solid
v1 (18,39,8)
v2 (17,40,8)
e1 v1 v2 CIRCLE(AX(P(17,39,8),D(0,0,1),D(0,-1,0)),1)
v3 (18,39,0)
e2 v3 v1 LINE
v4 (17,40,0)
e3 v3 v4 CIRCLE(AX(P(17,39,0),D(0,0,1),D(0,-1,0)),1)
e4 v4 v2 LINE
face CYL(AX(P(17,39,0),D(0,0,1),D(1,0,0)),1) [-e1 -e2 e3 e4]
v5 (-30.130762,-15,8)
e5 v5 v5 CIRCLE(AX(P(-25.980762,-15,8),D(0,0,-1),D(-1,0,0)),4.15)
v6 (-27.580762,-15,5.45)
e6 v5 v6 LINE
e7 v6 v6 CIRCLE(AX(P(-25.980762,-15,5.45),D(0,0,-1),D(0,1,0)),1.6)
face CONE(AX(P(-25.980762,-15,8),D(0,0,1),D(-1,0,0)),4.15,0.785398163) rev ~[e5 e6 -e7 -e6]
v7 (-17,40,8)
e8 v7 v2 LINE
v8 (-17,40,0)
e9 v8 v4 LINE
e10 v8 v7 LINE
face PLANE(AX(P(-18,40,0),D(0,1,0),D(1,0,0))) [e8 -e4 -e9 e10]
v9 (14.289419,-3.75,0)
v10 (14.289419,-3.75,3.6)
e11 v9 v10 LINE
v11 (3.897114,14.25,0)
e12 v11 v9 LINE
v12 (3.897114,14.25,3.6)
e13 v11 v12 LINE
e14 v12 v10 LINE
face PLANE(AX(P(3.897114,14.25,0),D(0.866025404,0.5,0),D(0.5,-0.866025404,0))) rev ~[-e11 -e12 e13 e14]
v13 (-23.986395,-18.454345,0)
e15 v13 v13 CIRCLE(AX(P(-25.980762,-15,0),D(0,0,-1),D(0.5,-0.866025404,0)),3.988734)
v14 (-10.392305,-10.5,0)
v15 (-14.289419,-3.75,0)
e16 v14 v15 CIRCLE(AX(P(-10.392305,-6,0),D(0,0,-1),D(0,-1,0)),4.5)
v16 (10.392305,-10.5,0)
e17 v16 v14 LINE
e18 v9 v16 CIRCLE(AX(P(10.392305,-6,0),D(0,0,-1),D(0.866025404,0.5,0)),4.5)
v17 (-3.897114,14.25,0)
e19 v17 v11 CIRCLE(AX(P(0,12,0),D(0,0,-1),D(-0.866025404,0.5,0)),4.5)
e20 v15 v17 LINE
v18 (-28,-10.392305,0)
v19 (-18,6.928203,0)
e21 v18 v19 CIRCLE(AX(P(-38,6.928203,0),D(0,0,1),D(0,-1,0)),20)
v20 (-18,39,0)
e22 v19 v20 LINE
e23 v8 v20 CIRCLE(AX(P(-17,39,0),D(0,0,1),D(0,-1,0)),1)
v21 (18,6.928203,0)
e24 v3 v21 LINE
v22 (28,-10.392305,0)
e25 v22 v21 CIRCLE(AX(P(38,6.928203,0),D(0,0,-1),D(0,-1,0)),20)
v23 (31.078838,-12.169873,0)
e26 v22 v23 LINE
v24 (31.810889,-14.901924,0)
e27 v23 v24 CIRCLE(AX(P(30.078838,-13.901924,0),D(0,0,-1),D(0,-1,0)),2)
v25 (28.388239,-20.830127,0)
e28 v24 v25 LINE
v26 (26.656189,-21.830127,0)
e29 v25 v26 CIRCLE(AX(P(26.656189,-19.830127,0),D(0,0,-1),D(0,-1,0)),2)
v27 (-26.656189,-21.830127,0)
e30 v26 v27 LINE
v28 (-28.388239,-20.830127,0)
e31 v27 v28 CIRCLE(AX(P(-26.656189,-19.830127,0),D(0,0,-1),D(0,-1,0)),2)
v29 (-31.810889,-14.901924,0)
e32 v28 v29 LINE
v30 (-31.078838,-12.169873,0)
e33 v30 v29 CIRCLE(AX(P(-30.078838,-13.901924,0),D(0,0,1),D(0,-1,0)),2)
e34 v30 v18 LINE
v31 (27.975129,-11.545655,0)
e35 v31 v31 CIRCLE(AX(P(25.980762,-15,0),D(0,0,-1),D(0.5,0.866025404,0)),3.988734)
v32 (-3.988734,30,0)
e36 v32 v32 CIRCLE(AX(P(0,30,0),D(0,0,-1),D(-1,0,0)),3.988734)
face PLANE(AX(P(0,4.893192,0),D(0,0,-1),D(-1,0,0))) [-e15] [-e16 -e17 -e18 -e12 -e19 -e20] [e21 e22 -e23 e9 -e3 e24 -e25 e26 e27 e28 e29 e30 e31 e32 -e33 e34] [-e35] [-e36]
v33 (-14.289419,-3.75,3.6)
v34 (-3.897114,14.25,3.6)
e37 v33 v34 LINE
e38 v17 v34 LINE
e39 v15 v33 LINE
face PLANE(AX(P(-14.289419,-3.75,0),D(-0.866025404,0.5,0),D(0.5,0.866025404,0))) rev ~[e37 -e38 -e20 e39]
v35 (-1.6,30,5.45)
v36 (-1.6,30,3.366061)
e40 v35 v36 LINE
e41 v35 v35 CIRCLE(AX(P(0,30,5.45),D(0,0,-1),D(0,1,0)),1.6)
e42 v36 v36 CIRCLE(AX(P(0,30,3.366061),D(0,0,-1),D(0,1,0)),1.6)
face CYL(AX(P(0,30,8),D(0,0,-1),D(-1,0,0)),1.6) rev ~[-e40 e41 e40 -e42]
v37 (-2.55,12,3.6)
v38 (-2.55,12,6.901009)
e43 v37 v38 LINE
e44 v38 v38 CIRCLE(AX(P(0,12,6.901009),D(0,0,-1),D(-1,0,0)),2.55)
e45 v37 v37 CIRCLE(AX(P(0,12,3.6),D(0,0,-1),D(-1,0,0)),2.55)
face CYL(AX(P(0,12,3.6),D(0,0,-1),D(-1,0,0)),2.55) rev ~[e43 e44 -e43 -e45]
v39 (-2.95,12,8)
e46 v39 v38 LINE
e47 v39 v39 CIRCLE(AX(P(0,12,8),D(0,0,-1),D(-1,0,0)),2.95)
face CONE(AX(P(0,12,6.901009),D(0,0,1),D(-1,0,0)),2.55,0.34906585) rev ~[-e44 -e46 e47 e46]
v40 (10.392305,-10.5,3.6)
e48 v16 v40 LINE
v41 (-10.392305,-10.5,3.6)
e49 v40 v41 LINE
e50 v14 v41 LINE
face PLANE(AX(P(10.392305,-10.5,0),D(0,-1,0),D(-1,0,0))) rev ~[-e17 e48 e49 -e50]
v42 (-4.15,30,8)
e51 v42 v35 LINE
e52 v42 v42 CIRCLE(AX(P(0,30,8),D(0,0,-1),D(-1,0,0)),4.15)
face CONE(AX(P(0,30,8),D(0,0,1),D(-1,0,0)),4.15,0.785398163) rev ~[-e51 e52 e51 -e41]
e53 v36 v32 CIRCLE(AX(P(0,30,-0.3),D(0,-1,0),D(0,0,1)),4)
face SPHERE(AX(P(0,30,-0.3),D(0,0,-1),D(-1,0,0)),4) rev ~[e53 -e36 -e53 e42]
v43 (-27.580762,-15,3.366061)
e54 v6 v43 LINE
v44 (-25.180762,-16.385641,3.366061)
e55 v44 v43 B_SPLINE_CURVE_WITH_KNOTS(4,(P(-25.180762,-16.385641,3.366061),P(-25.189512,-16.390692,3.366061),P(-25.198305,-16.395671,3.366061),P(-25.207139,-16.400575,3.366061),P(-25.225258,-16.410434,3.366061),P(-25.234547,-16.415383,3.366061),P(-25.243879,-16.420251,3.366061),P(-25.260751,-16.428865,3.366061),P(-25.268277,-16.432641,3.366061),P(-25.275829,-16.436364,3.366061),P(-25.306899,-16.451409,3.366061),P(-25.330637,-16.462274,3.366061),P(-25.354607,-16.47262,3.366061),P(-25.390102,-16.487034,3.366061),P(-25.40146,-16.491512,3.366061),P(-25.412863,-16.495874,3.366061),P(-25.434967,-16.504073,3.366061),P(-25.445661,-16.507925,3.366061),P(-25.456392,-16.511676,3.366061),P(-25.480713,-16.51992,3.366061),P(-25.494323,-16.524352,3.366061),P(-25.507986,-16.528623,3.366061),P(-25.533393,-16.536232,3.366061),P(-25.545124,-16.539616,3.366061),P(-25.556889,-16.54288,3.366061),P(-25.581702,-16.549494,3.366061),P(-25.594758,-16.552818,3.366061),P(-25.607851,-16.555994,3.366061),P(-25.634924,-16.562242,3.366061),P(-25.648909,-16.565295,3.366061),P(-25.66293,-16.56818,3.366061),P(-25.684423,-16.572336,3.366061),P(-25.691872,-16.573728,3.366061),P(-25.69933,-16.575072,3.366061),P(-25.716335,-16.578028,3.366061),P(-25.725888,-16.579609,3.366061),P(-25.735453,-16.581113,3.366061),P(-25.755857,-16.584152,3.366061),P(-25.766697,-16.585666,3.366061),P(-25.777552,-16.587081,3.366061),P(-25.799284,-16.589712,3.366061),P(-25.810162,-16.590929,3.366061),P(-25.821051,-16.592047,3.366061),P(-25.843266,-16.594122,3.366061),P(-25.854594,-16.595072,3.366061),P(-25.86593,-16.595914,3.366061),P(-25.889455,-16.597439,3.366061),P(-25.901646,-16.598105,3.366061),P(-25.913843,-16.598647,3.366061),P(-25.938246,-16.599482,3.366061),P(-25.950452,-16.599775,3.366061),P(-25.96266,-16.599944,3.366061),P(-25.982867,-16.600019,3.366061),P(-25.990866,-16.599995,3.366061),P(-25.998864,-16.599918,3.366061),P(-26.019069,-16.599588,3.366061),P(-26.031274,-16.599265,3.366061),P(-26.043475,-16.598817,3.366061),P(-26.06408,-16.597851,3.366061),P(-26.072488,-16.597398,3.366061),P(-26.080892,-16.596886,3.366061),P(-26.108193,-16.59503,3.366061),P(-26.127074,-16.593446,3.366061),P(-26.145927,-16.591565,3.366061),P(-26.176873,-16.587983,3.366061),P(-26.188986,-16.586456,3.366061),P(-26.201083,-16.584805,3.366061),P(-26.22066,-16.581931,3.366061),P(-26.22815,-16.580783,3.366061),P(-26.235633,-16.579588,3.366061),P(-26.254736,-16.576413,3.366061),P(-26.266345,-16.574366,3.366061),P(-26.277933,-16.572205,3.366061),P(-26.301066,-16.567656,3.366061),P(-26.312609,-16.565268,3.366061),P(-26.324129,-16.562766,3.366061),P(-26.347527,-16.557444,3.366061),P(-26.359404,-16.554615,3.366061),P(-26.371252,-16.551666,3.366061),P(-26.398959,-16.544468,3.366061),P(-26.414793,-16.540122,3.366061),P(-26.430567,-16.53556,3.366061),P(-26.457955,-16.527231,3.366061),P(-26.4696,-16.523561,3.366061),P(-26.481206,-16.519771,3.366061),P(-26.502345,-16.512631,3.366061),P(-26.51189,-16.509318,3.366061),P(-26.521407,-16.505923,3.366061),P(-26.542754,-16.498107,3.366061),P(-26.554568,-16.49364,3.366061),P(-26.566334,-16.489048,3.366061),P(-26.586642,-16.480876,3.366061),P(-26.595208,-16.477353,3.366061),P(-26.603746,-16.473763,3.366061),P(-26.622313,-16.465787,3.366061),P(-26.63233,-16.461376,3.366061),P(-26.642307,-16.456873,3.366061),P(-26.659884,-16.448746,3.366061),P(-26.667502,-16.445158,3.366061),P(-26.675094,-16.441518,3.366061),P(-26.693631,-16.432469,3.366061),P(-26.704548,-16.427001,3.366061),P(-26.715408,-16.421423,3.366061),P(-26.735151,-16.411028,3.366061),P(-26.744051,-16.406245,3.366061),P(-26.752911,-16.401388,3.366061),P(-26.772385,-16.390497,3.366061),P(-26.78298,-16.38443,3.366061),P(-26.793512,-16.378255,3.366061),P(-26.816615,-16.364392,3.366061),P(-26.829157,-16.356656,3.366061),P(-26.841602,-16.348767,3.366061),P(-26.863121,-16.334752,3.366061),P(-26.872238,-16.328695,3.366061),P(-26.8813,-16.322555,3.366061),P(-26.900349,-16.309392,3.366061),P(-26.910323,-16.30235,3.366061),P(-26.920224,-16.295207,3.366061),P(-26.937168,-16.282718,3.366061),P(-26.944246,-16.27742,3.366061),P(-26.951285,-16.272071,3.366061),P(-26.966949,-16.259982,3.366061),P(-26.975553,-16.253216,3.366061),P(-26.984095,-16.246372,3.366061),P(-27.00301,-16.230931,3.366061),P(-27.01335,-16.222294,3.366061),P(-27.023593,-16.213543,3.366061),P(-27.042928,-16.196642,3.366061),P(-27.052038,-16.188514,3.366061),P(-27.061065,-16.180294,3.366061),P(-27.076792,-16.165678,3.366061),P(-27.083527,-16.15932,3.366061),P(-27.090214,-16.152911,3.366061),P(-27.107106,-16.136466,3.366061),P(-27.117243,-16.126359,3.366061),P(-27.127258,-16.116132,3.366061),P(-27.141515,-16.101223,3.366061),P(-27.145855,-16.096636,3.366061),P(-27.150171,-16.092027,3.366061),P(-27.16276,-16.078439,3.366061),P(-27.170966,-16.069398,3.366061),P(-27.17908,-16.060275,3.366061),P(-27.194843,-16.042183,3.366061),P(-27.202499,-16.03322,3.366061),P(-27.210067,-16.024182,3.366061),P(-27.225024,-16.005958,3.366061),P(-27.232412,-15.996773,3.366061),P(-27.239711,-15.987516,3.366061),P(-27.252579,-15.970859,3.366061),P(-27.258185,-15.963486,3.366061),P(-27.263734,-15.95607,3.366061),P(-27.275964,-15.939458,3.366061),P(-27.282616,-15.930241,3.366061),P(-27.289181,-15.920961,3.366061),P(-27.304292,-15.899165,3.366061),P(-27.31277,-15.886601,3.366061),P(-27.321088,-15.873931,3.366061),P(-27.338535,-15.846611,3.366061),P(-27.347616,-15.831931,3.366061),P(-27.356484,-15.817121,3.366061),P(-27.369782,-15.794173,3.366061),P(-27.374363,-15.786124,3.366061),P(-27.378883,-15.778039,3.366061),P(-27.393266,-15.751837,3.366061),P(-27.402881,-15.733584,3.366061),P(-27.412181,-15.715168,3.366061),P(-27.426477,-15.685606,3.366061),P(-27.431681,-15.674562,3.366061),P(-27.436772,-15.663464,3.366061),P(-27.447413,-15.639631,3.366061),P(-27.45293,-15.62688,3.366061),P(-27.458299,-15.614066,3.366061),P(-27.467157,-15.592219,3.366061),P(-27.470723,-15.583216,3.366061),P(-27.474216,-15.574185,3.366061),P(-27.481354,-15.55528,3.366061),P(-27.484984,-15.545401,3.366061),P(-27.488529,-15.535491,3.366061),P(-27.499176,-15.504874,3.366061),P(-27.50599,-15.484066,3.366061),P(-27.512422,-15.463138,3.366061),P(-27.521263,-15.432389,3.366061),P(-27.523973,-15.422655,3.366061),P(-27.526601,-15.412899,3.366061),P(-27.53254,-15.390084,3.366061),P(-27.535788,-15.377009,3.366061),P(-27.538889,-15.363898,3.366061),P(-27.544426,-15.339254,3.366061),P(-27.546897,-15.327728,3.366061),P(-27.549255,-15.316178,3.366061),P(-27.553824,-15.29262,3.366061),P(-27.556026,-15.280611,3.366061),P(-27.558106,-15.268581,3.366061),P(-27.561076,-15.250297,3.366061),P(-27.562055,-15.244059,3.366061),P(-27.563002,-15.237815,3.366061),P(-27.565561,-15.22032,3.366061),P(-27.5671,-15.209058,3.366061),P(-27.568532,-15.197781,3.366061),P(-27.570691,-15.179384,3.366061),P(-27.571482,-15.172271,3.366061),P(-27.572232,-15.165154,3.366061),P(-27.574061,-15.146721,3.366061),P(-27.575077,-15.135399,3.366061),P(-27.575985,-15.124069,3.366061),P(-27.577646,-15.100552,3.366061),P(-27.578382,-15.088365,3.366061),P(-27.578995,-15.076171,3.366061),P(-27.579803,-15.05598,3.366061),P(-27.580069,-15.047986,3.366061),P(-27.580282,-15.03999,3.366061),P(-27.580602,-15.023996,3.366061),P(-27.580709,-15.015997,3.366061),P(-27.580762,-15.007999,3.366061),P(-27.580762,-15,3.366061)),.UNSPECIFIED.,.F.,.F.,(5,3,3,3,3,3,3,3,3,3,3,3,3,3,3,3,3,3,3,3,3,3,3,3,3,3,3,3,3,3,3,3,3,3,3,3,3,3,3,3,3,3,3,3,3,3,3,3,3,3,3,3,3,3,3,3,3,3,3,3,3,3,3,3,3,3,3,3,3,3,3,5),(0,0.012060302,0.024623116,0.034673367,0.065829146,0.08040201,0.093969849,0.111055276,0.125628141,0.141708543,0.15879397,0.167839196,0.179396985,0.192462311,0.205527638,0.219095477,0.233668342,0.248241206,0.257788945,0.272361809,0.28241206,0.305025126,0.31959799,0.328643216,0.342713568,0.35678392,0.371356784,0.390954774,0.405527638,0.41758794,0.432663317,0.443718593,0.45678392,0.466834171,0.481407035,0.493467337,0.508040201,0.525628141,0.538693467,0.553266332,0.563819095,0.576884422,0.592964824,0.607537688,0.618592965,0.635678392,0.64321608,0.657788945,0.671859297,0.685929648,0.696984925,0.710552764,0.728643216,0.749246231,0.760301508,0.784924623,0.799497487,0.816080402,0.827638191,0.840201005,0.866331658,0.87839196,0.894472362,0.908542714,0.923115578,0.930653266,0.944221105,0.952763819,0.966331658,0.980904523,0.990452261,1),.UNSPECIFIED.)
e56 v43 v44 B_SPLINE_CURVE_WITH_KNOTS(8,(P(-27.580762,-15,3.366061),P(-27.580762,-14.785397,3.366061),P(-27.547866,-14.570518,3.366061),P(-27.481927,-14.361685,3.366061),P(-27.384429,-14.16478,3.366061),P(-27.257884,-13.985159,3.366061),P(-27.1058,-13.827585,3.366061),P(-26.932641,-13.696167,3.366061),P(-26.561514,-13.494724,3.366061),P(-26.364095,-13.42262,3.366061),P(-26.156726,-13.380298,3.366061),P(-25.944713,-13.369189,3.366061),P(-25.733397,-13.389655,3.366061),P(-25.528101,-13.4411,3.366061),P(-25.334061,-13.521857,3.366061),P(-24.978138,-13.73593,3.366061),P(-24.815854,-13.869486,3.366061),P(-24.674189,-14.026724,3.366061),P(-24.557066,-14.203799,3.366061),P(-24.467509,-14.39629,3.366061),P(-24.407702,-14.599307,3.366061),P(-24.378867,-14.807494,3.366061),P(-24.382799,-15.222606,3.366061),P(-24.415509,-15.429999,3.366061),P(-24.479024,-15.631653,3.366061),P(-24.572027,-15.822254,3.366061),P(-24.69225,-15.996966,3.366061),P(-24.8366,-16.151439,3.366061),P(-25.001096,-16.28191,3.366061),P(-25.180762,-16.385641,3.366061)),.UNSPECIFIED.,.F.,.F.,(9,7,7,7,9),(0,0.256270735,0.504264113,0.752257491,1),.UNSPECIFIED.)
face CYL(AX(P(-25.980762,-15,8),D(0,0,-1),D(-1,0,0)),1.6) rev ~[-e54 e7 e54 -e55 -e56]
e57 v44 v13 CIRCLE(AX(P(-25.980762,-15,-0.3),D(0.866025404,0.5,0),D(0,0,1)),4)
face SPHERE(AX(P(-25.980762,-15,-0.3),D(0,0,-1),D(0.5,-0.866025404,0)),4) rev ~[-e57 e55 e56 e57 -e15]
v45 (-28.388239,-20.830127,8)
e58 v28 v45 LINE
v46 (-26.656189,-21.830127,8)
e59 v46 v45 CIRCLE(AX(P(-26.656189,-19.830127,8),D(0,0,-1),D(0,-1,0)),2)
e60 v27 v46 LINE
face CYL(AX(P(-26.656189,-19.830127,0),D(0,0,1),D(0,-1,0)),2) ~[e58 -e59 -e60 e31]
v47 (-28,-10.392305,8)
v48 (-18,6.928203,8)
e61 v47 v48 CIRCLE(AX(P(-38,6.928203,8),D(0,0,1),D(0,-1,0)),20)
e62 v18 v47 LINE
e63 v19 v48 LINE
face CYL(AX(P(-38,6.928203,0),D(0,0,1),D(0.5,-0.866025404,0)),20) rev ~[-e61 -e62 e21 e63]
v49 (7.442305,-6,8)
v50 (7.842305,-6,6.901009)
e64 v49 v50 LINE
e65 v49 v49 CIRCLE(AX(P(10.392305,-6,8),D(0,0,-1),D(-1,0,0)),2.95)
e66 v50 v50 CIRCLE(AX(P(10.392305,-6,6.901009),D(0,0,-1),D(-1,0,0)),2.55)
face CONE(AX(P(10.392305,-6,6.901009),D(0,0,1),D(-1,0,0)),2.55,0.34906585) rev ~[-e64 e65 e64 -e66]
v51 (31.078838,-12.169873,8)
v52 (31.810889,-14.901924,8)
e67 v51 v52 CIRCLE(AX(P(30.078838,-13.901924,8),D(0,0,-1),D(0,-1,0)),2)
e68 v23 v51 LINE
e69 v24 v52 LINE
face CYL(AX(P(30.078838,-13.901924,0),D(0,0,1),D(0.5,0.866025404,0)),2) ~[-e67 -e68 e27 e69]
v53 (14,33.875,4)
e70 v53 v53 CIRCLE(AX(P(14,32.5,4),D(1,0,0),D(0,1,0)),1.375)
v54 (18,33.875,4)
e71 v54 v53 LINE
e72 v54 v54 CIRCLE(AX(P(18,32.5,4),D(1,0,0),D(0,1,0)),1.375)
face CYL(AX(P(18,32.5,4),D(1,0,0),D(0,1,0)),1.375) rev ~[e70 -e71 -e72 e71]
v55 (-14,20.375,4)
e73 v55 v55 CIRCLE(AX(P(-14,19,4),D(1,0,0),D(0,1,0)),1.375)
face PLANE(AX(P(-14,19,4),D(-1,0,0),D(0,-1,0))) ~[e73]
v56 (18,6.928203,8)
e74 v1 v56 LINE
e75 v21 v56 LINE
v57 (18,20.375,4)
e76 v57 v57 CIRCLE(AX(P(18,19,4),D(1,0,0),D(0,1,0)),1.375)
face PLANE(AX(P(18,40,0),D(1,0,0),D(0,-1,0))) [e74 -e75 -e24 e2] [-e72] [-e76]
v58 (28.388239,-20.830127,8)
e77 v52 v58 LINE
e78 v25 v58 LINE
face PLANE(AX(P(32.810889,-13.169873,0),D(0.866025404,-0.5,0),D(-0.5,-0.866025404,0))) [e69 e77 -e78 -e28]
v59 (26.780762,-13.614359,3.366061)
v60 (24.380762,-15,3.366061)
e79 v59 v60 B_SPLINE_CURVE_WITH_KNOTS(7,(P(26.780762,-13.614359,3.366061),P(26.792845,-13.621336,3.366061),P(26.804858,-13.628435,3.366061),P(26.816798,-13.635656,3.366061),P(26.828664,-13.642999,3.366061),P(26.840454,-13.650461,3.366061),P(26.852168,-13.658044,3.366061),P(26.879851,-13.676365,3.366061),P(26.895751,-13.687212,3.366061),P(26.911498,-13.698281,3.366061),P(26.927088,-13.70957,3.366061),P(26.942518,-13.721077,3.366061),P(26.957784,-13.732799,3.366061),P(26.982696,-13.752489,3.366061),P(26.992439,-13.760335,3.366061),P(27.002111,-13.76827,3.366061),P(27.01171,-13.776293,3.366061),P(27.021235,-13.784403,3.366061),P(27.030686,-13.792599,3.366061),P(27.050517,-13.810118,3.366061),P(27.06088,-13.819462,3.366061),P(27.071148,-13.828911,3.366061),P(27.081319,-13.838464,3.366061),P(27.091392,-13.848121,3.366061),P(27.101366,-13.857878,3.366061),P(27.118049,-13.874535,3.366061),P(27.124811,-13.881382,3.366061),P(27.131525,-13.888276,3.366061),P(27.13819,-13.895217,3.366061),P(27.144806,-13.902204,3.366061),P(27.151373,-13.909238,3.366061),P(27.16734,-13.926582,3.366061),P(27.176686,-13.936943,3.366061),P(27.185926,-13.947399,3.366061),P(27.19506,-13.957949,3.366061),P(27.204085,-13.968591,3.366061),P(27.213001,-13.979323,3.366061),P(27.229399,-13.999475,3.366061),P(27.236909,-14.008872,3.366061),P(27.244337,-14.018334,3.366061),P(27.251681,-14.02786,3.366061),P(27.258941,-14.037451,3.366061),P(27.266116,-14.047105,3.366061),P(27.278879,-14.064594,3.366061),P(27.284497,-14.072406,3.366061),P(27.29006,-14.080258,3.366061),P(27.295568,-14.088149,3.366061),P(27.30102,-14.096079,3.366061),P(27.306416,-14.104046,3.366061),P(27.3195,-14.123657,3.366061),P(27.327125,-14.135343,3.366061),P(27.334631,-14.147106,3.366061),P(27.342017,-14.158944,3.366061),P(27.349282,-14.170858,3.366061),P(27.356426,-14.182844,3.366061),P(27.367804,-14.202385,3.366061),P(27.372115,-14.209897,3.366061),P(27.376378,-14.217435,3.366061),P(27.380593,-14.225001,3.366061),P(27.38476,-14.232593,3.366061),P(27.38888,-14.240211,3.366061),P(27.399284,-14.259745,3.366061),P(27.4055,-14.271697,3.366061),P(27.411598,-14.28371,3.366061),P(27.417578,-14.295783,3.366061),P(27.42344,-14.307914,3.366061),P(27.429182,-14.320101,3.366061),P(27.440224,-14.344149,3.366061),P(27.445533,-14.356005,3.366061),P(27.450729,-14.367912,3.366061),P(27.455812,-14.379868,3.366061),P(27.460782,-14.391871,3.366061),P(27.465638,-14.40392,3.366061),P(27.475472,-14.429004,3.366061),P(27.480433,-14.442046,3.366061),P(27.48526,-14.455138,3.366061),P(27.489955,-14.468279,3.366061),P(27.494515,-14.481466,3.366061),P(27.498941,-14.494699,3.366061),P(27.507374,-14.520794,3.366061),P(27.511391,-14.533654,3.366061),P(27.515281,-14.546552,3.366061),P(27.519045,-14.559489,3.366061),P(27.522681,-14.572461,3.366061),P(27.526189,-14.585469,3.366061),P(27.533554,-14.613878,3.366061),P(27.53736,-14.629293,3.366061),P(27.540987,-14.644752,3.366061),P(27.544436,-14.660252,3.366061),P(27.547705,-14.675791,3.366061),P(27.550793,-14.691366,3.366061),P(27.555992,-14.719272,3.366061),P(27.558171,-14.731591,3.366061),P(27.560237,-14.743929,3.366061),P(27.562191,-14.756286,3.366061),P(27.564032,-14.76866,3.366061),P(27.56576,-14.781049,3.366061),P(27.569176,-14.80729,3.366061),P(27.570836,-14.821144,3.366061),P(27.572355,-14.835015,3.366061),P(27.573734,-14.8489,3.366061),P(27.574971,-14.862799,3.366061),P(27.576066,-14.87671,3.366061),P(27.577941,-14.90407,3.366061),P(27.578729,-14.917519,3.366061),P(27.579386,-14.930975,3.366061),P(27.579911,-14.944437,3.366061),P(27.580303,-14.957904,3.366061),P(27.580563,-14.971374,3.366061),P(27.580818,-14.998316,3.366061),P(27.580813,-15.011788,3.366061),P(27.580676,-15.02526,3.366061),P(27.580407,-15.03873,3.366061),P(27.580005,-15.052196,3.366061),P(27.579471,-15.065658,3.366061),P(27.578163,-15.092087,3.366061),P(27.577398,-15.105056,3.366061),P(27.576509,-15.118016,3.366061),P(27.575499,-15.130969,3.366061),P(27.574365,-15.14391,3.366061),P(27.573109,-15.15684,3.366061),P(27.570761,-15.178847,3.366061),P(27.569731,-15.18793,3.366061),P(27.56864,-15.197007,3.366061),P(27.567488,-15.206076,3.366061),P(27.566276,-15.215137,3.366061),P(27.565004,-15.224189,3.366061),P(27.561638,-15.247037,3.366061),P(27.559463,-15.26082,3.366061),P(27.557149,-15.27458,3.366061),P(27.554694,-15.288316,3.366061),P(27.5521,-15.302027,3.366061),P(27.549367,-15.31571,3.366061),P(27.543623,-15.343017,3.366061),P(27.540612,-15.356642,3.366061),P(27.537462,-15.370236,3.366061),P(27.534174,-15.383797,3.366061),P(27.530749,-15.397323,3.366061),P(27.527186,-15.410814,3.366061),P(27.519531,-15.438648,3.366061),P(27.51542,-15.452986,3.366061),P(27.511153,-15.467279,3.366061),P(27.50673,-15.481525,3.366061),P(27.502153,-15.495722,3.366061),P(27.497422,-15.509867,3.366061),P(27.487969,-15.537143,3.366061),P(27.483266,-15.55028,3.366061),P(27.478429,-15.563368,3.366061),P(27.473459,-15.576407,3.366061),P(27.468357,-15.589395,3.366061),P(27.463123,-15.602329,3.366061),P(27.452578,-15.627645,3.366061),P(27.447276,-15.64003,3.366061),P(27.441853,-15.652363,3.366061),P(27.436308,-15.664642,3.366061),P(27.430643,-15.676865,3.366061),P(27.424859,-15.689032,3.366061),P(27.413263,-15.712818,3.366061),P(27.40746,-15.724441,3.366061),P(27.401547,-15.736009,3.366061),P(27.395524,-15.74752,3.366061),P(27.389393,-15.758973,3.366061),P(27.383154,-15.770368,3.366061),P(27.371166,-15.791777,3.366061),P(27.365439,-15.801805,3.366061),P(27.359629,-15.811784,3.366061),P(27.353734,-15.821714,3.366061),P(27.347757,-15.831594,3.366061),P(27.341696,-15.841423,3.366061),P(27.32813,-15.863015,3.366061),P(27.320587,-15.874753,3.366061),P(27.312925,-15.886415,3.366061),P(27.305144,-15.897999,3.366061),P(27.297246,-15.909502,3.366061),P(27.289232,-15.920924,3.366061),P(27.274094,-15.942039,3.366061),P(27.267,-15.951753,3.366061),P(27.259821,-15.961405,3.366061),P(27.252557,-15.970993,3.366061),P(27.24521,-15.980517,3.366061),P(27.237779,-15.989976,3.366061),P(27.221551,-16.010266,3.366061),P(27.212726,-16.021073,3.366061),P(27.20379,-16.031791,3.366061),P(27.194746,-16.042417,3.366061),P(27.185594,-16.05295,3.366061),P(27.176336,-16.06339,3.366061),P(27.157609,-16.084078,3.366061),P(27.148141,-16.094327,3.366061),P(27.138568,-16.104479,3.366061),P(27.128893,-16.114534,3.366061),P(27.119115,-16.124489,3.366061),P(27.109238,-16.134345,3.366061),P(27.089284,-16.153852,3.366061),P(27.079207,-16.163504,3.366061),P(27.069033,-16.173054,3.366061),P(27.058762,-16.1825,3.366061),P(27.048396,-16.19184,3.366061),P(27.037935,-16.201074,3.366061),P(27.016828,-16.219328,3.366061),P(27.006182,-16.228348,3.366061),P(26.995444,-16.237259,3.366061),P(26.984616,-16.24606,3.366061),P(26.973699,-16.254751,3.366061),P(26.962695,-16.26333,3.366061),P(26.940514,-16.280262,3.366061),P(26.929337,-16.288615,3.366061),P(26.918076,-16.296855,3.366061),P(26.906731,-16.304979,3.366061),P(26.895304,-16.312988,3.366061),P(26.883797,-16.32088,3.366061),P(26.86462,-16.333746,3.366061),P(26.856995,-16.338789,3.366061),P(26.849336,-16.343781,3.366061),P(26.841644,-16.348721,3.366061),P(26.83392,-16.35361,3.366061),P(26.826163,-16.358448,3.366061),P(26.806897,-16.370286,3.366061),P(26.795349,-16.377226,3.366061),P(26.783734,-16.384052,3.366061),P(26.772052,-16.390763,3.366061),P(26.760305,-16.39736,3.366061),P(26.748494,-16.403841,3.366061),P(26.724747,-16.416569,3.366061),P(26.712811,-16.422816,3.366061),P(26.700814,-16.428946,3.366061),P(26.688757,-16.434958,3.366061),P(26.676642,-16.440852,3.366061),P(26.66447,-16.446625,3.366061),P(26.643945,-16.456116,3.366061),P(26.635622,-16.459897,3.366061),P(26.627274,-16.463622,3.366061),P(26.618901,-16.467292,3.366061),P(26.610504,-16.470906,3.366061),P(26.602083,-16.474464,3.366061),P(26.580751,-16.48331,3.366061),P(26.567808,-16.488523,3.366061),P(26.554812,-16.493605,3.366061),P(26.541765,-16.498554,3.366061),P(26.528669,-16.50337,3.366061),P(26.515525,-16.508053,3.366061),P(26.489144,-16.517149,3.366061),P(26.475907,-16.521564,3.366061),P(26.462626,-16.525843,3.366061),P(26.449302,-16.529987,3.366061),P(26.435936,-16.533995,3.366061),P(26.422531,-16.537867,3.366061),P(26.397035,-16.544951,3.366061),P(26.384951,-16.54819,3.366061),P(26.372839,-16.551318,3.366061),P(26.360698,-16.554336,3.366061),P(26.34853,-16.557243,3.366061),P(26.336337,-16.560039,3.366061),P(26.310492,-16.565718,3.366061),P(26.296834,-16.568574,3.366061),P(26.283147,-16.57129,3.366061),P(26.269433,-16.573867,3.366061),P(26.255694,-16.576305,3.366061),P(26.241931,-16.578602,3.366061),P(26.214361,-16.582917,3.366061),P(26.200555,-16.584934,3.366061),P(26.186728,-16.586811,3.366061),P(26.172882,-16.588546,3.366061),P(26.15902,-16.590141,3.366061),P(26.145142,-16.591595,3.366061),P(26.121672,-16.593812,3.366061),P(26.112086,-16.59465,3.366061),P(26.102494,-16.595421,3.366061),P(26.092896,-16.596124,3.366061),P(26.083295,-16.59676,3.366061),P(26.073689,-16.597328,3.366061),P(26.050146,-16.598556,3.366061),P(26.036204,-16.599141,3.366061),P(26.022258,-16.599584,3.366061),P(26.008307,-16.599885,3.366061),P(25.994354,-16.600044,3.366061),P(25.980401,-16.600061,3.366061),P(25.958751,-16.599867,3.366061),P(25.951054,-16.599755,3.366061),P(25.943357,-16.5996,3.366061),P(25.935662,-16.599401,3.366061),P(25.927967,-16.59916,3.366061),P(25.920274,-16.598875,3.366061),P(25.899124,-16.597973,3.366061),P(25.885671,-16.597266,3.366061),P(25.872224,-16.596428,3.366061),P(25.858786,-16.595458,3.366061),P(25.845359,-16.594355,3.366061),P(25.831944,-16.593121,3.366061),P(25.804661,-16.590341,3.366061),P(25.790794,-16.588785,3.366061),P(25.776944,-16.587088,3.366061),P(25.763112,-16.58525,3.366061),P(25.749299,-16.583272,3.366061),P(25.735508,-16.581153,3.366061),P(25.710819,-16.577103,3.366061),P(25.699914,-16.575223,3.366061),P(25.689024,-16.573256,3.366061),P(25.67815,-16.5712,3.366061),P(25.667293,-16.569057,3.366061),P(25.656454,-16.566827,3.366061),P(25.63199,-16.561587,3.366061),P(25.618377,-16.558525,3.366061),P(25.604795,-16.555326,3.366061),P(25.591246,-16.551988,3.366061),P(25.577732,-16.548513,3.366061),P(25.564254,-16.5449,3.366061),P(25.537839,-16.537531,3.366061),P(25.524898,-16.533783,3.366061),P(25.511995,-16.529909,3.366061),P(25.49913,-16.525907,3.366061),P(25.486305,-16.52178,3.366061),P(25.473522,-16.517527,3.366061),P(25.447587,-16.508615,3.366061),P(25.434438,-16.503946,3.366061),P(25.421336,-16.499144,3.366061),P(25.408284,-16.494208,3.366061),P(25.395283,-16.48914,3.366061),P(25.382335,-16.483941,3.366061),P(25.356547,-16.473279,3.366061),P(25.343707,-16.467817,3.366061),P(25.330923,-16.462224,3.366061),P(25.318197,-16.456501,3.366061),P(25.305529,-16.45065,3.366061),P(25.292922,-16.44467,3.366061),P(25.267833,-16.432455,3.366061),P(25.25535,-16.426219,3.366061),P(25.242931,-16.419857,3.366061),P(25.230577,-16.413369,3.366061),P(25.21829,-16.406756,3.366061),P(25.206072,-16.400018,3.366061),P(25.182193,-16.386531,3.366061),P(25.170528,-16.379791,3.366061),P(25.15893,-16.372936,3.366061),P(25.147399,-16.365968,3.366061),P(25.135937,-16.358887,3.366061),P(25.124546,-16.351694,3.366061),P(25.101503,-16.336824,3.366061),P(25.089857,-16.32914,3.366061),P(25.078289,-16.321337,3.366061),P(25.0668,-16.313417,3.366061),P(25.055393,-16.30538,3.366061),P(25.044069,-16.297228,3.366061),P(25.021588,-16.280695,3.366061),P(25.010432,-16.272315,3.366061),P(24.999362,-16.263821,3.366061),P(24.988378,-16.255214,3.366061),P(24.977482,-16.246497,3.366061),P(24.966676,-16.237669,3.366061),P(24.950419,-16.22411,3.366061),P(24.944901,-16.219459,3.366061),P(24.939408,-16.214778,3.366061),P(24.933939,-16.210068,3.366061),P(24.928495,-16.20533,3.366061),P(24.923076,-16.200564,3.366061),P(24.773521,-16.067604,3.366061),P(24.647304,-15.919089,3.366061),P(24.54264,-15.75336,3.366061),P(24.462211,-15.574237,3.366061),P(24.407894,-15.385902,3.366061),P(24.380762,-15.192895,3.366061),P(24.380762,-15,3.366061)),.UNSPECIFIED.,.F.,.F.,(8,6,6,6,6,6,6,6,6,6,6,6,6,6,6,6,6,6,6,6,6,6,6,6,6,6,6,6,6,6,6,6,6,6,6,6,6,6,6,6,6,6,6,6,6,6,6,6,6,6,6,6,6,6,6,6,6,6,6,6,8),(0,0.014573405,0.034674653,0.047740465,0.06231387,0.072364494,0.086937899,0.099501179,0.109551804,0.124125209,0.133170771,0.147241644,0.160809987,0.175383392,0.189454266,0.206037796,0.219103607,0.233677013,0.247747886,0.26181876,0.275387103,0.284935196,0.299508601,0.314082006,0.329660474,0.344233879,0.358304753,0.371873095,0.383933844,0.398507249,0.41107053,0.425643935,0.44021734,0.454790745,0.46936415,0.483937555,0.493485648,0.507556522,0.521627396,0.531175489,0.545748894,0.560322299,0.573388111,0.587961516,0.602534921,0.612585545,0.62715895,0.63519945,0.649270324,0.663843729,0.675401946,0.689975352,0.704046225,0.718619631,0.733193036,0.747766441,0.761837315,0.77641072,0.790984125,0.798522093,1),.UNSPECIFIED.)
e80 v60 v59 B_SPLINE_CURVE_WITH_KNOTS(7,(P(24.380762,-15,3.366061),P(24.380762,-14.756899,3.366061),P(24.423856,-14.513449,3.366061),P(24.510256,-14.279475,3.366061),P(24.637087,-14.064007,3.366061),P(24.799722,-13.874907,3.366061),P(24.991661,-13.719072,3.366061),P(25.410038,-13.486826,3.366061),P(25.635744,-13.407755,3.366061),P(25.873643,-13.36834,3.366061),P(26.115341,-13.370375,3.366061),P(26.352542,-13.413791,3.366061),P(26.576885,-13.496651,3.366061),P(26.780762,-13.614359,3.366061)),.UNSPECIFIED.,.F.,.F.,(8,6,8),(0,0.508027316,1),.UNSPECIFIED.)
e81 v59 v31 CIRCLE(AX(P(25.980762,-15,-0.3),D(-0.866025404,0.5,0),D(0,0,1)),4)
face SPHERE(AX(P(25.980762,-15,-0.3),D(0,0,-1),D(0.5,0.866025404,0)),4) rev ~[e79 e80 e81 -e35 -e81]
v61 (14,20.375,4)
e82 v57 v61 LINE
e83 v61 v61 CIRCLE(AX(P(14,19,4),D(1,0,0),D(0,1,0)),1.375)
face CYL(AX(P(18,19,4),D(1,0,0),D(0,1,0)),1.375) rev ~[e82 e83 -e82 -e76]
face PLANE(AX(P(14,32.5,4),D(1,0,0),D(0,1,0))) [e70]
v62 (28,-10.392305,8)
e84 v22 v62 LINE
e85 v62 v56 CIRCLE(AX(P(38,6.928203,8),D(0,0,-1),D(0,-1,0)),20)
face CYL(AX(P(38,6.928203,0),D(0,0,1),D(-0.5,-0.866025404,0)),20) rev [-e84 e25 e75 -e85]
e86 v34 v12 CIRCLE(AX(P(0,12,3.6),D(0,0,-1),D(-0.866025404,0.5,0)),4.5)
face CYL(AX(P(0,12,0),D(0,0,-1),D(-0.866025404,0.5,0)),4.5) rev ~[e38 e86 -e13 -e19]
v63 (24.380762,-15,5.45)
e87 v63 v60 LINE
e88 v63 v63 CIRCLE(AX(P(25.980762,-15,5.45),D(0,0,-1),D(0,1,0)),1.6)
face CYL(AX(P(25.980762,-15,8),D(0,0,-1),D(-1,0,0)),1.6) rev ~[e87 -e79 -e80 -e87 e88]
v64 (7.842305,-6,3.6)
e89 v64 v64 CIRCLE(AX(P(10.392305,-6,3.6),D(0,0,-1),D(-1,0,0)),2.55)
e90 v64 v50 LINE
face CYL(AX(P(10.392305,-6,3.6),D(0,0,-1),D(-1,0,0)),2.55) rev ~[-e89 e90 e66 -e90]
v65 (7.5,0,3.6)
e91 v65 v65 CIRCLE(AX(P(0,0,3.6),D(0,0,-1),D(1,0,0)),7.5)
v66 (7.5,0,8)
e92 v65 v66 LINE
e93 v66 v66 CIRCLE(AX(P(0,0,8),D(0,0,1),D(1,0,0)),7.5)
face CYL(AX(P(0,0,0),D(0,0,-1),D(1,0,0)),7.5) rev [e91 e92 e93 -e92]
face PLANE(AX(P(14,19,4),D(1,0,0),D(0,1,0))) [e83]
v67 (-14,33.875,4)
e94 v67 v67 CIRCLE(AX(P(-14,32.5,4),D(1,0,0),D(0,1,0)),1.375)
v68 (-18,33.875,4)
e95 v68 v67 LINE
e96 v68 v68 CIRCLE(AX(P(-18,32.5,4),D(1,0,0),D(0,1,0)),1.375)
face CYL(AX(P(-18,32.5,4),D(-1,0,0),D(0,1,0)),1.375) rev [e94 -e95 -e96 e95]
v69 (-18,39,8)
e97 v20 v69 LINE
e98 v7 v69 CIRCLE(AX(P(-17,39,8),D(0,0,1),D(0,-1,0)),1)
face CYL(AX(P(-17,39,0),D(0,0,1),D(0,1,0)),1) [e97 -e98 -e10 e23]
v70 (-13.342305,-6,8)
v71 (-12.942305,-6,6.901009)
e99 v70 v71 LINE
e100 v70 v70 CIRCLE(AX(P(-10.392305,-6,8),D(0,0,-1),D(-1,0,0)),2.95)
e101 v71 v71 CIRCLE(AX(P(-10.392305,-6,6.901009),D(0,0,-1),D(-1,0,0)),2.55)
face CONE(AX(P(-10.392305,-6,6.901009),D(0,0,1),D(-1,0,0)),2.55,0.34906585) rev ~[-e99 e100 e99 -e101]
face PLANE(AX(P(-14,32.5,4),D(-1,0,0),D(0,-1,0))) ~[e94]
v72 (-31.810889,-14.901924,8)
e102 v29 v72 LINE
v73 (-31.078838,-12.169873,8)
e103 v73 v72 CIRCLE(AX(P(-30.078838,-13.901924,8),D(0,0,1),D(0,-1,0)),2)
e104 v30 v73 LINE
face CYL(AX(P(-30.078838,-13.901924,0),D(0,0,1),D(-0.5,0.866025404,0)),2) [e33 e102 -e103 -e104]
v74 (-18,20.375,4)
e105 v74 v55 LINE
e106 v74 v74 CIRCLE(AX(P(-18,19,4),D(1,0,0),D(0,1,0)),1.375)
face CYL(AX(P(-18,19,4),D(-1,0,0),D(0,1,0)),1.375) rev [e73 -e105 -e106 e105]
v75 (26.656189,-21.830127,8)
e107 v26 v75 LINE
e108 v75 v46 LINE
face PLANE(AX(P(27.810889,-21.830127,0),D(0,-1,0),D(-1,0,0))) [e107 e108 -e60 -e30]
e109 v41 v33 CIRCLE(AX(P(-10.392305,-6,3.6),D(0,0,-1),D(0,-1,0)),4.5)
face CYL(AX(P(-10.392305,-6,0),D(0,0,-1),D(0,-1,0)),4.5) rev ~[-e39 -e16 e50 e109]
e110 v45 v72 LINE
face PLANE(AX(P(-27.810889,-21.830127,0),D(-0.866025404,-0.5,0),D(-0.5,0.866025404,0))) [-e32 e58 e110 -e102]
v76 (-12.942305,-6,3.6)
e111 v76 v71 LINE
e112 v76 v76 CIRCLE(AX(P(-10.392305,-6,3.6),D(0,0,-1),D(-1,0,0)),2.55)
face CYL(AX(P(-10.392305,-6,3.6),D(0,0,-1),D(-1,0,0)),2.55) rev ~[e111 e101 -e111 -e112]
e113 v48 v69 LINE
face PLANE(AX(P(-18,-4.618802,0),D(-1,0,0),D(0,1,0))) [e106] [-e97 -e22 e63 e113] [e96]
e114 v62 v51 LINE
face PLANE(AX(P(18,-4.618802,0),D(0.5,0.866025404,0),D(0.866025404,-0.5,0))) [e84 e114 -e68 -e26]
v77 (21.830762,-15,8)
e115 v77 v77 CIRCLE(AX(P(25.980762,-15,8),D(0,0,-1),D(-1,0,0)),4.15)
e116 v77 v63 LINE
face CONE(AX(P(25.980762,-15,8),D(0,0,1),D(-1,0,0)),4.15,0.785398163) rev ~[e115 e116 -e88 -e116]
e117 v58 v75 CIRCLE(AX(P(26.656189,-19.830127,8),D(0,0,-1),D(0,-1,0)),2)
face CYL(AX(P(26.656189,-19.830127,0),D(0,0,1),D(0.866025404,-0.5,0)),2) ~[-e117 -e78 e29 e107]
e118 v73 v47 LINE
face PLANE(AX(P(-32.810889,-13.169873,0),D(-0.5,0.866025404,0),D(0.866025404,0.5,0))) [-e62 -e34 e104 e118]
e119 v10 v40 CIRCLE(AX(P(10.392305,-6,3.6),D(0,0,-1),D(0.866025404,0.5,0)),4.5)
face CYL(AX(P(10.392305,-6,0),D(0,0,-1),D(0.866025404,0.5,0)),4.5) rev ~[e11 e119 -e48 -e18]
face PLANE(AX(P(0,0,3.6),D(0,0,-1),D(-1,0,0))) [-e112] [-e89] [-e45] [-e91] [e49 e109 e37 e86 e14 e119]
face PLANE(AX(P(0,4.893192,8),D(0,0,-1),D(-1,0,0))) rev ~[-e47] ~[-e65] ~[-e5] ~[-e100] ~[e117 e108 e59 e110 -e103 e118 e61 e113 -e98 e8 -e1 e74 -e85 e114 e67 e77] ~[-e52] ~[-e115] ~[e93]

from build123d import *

# Parameters (mm, degrees)
SKETCH2_R                                       = 7.5
BOSS_EXTRUDE1_DEPTH                             = 8
CSK_FOR_M3_FLAT_HEAD_MACHINE_SCREW2_D           = 3.2
CSK_FOR_M3_FLAT_HEAD_MACHINE_SCREW2_CSINK_D     = 8.3
CSK_FOR_M3_FLAT_HEAD_MACHINE_SCREW2_CSINK_ANGLE = 90
FILLET1_R                                       = 20
V_GROOVE_CUTOUT_FLIPPED_DEPTH                   = 3.6
SKETCH49_R                                      = 2.55
CUT_EXTRUDE3_DEPTH                              = 52.922196079
CHAMFER2_SIZE                                   = 0.4
CHAMFER2_SIZE2                                  = 1.098990968
MOVE_FACE2_BY                                   = 0.5
MOVE_FACE2_2_BY                                 = 0.5
MOVE_FACE2_3_BY                                 = 0.5
MOVE_FACE2_4_BY                                 = 0.5
MOVE_FACE2_5_BY                                 = 0.5
MOVE_FACE2_6_BY                                 = 0.5
CIRPATTERN2_COUNT                               = 3
SKETCH20_R                                      = 1.375
TOOL_WING_SCREW_HOLES_DEPTH                     = 4
FILLET17_R                                      = 2
FILLET18_R                                      = 1


with BuildPart() as part:
    # Sketch2 → Boss-Extrude1 (new body)
    with BuildSketch(Plane.XY):
        Polygon((-18, 40), (18, 40), (18, -4.618802154), (32.810889132, -13.169872981), (27.810889132, -21.830127019), (-27.810889132, -21.830127019), (-32.810889132, -13.169872981), (-18, -4.618802154), align=None)
        Circle(SKETCH2_R, mode=Mode.SUBTRACT)
    extrude(amount=BOSS_EXTRUDE1_DEPTH)

    # CSK for M3 Flat Head Machine Screw2 (through all)
    with Locations(Plane.XY.offset(8)):
        with Locations((-25.980762114, -15), (0, 30), (25.980762114, -15)):
            CounterSinkHole(CSK_FOR_M3_FLAT_HEAD_MACHINE_SCREW2_D / 2, CSK_FOR_M3_FLAT_HEAD_MACHINE_SCREW2_CSINK_D / 2, counter_sink_angle=CSK_FOR_M3_FLAT_HEAD_MACHINE_SCREW2_CSINK_ANGLE)

    # Fillet1
    fillet1_edges = [part.edges().sort_by_distance(p)[0] for p in [
        (18, -4.618802154, 4),
        (-18, -4.618802154, 4),
    ]]
    fillet(fillet1_edges, radius=FILLET1_R)

    # Sketch47 → v-groove cutout flipped (cut)
    with BuildSketch(Plane(origin=(0, 0, 0), x_dir=(-1, 0, 0), z_dir=(0, 0, -1))):
        with BuildLine():
            Line((-3.464101615, 14), (-13.856406461, -4))
            ThreePointArc((-13.856406461, -4), (-13.856406461, -8), (-10.392304845, -10))
            Line((-10.392304845, -10), (10.392304845, -10))
            ThreePointArc((10.392304845, -10), (13.856406461, -8), (13.856406461, -4))
            Line((13.856406461, -4), (3.464101615, 14))
            ThreePointArc((3.464101615, 14), (0, 16), (-3.464101615, 14))
        make_face()
    extrude(amount=-V_GROOVE_CUTOUT_FLIPPED_DEPTH, mode=Mode.SUBTRACT)

    # Sketch49 → Cut-Extrude3 (cut, through all)
    with BuildSketch(Plane(origin=(0, 0, 3.6), x_dir=(-1, 0, 0), z_dir=(0, 0, -1))):
        with Locations((0, 12)):
            Circle(SKETCH49_R)
        with Locations((10.392304845, -6)):
            Circle(SKETCH49_R)
        with Locations((-10.392304845, -6)):
            Circle(SKETCH49_R)
    extrude(amount=-CUT_EXTRUDE3_DEPTH, mode=Mode.SUBTRACT)

    # Chamfer2
    chamfer2_edges = [part.edges().sort_by_distance(p)[0] for p in [
        (2.55, 12, 8),
        (-7.842304845, -6, 8),
        (12.942304845, -6, 8),
    ]]
    chamfer2_side = [part.faces().sort_by_distance(p)[0] for p in [
        (17.098380214, 23.464101615, 8),
    ]]
    chamfer(chamfer2_edges, length=CHAMFER2_SIZE, length2=CHAMFER2_SIZE2, reference=chamfer2_side[0])

    # Move Face2: a curved face moved inward by 0.5
    add(Solid.thicken(part.faces().sort_by_distance((-13.856406461, -8, 1.8))[0], -MOVE_FACE2_BY), mode=Mode.SUBTRACT)

    # Move Face2 2: a face moved inward by 0.5
    extrude(part.faces().sort_by_distance((0, -10, 1.8))[0], amount=MOVE_FACE2_2_BY, dir=(0, -1, 0), mode=Mode.SUBTRACT)

    # Move Face2 3: a curved face moved inward by 0.5
    add(Solid.thicken(part.faces().sort_by_distance((13.856406461, -8, 1.8))[0], -MOVE_FACE2_3_BY), mode=Mode.SUBTRACT)

    # Move Face2 4: a face moved inward by 0.5
    extrude(part.faces().sort_by_distance((8.660254038, 5, 1.8))[0], amount=MOVE_FACE2_4_BY, dir=(0.866025404, 0.5, 0), mode=Mode.SUBTRACT)

    # Move Face2 5: a curved face moved inward by 0.5
    add(Solid.thicken(part.faces().sort_by_distance((0, 16, 1.8))[0], -MOVE_FACE2_5_BY), mode=Mode.SUBTRACT)

    # Move Face2 6: a face moved inward by 0.5
    extrude(part.faces().sort_by_distance((-8.660254038, 5, 1.8))[0], amount=MOVE_FACE2_6_BY, dir=(-0.866025404, 0.5, 0), mode=Mode.SUBTRACT)

    # Sketch46 → tool ball cutout (revolve, cut)
    with BuildSketch(Plane(origin=(0, 30, 0), x_dir=(1, 0, 0), z_dir=(0, 1, 0))):
        with BuildLine():
            Line((0, 4.3), (0, -3.7))
            ThreePointArc((0, -3.7), (-4, 0.3), (0, 4.3))
        make_face()
    tool_ball_cutout = revolve(axis=Axis((0, 30, 0), (0, 0, -1)), mode=Mode.SUBTRACT)

    # CirPattern2: tool ball cutout ×3 about axis
    cirpattern2_axis = Axis((0, 0, 0), (0, 0, 1))
    for i in range(1, CIRPATTERN2_COUNT):
        add(tool_ball_cutout.rotate(cirpattern2_axis, i * 360 / CIRPATTERN2_COUNT), mode=Mode.SUBTRACT)

    # Sketch20 → Tool Wing Screw Holes (cut)
    with BuildSketch(Plane(origin=(18, 0, 0), x_dir=(0, 0, -1), z_dir=(1, 0, 0))):
        with Locations(Location((-4, 19, 0), (0, 0, 90))):
            Circle(SKETCH20_R)
        with Locations(Location((-4, 32.5, 0), (0, 0, 90))):
            Circle(SKETCH20_R)
    tool_wing_screw_holes = extrude(amount=-TOOL_WING_SCREW_HOLES_DEPTH, mode=Mode.SUBTRACT)

    # Mirror2: Tool Wing Screw Holes across plane
    add(tool_wing_screw_holes.mirror(Plane(origin=(0, 0, 0), x_dir=(0, 0, 1), z_dir=(1, 0, 0))), mode=Mode.SUBTRACT)

    # Fillet17
    fillet17_edges = [part.edges().sort_by_distance(p)[0] for p in [
        (32.810889132, -13.169872981, 4),
        (27.810889132, -21.830127019, 4),
        (-27.810889132, -21.830127019, 4),
        (-32.810889132, -13.169872981, 4),
    ]]
    fillet(fillet17_edges, radius=FILLET17_R)

    # Fillet18
    fillet18_edges = [part.edges().sort_by_distance(p)[0] for p in [
        (-18, 40, 4),
        (18, 40, 4),
    ]]
    fillet(fillet18_edges, radius=FILLET18_R)


solid = part.part
